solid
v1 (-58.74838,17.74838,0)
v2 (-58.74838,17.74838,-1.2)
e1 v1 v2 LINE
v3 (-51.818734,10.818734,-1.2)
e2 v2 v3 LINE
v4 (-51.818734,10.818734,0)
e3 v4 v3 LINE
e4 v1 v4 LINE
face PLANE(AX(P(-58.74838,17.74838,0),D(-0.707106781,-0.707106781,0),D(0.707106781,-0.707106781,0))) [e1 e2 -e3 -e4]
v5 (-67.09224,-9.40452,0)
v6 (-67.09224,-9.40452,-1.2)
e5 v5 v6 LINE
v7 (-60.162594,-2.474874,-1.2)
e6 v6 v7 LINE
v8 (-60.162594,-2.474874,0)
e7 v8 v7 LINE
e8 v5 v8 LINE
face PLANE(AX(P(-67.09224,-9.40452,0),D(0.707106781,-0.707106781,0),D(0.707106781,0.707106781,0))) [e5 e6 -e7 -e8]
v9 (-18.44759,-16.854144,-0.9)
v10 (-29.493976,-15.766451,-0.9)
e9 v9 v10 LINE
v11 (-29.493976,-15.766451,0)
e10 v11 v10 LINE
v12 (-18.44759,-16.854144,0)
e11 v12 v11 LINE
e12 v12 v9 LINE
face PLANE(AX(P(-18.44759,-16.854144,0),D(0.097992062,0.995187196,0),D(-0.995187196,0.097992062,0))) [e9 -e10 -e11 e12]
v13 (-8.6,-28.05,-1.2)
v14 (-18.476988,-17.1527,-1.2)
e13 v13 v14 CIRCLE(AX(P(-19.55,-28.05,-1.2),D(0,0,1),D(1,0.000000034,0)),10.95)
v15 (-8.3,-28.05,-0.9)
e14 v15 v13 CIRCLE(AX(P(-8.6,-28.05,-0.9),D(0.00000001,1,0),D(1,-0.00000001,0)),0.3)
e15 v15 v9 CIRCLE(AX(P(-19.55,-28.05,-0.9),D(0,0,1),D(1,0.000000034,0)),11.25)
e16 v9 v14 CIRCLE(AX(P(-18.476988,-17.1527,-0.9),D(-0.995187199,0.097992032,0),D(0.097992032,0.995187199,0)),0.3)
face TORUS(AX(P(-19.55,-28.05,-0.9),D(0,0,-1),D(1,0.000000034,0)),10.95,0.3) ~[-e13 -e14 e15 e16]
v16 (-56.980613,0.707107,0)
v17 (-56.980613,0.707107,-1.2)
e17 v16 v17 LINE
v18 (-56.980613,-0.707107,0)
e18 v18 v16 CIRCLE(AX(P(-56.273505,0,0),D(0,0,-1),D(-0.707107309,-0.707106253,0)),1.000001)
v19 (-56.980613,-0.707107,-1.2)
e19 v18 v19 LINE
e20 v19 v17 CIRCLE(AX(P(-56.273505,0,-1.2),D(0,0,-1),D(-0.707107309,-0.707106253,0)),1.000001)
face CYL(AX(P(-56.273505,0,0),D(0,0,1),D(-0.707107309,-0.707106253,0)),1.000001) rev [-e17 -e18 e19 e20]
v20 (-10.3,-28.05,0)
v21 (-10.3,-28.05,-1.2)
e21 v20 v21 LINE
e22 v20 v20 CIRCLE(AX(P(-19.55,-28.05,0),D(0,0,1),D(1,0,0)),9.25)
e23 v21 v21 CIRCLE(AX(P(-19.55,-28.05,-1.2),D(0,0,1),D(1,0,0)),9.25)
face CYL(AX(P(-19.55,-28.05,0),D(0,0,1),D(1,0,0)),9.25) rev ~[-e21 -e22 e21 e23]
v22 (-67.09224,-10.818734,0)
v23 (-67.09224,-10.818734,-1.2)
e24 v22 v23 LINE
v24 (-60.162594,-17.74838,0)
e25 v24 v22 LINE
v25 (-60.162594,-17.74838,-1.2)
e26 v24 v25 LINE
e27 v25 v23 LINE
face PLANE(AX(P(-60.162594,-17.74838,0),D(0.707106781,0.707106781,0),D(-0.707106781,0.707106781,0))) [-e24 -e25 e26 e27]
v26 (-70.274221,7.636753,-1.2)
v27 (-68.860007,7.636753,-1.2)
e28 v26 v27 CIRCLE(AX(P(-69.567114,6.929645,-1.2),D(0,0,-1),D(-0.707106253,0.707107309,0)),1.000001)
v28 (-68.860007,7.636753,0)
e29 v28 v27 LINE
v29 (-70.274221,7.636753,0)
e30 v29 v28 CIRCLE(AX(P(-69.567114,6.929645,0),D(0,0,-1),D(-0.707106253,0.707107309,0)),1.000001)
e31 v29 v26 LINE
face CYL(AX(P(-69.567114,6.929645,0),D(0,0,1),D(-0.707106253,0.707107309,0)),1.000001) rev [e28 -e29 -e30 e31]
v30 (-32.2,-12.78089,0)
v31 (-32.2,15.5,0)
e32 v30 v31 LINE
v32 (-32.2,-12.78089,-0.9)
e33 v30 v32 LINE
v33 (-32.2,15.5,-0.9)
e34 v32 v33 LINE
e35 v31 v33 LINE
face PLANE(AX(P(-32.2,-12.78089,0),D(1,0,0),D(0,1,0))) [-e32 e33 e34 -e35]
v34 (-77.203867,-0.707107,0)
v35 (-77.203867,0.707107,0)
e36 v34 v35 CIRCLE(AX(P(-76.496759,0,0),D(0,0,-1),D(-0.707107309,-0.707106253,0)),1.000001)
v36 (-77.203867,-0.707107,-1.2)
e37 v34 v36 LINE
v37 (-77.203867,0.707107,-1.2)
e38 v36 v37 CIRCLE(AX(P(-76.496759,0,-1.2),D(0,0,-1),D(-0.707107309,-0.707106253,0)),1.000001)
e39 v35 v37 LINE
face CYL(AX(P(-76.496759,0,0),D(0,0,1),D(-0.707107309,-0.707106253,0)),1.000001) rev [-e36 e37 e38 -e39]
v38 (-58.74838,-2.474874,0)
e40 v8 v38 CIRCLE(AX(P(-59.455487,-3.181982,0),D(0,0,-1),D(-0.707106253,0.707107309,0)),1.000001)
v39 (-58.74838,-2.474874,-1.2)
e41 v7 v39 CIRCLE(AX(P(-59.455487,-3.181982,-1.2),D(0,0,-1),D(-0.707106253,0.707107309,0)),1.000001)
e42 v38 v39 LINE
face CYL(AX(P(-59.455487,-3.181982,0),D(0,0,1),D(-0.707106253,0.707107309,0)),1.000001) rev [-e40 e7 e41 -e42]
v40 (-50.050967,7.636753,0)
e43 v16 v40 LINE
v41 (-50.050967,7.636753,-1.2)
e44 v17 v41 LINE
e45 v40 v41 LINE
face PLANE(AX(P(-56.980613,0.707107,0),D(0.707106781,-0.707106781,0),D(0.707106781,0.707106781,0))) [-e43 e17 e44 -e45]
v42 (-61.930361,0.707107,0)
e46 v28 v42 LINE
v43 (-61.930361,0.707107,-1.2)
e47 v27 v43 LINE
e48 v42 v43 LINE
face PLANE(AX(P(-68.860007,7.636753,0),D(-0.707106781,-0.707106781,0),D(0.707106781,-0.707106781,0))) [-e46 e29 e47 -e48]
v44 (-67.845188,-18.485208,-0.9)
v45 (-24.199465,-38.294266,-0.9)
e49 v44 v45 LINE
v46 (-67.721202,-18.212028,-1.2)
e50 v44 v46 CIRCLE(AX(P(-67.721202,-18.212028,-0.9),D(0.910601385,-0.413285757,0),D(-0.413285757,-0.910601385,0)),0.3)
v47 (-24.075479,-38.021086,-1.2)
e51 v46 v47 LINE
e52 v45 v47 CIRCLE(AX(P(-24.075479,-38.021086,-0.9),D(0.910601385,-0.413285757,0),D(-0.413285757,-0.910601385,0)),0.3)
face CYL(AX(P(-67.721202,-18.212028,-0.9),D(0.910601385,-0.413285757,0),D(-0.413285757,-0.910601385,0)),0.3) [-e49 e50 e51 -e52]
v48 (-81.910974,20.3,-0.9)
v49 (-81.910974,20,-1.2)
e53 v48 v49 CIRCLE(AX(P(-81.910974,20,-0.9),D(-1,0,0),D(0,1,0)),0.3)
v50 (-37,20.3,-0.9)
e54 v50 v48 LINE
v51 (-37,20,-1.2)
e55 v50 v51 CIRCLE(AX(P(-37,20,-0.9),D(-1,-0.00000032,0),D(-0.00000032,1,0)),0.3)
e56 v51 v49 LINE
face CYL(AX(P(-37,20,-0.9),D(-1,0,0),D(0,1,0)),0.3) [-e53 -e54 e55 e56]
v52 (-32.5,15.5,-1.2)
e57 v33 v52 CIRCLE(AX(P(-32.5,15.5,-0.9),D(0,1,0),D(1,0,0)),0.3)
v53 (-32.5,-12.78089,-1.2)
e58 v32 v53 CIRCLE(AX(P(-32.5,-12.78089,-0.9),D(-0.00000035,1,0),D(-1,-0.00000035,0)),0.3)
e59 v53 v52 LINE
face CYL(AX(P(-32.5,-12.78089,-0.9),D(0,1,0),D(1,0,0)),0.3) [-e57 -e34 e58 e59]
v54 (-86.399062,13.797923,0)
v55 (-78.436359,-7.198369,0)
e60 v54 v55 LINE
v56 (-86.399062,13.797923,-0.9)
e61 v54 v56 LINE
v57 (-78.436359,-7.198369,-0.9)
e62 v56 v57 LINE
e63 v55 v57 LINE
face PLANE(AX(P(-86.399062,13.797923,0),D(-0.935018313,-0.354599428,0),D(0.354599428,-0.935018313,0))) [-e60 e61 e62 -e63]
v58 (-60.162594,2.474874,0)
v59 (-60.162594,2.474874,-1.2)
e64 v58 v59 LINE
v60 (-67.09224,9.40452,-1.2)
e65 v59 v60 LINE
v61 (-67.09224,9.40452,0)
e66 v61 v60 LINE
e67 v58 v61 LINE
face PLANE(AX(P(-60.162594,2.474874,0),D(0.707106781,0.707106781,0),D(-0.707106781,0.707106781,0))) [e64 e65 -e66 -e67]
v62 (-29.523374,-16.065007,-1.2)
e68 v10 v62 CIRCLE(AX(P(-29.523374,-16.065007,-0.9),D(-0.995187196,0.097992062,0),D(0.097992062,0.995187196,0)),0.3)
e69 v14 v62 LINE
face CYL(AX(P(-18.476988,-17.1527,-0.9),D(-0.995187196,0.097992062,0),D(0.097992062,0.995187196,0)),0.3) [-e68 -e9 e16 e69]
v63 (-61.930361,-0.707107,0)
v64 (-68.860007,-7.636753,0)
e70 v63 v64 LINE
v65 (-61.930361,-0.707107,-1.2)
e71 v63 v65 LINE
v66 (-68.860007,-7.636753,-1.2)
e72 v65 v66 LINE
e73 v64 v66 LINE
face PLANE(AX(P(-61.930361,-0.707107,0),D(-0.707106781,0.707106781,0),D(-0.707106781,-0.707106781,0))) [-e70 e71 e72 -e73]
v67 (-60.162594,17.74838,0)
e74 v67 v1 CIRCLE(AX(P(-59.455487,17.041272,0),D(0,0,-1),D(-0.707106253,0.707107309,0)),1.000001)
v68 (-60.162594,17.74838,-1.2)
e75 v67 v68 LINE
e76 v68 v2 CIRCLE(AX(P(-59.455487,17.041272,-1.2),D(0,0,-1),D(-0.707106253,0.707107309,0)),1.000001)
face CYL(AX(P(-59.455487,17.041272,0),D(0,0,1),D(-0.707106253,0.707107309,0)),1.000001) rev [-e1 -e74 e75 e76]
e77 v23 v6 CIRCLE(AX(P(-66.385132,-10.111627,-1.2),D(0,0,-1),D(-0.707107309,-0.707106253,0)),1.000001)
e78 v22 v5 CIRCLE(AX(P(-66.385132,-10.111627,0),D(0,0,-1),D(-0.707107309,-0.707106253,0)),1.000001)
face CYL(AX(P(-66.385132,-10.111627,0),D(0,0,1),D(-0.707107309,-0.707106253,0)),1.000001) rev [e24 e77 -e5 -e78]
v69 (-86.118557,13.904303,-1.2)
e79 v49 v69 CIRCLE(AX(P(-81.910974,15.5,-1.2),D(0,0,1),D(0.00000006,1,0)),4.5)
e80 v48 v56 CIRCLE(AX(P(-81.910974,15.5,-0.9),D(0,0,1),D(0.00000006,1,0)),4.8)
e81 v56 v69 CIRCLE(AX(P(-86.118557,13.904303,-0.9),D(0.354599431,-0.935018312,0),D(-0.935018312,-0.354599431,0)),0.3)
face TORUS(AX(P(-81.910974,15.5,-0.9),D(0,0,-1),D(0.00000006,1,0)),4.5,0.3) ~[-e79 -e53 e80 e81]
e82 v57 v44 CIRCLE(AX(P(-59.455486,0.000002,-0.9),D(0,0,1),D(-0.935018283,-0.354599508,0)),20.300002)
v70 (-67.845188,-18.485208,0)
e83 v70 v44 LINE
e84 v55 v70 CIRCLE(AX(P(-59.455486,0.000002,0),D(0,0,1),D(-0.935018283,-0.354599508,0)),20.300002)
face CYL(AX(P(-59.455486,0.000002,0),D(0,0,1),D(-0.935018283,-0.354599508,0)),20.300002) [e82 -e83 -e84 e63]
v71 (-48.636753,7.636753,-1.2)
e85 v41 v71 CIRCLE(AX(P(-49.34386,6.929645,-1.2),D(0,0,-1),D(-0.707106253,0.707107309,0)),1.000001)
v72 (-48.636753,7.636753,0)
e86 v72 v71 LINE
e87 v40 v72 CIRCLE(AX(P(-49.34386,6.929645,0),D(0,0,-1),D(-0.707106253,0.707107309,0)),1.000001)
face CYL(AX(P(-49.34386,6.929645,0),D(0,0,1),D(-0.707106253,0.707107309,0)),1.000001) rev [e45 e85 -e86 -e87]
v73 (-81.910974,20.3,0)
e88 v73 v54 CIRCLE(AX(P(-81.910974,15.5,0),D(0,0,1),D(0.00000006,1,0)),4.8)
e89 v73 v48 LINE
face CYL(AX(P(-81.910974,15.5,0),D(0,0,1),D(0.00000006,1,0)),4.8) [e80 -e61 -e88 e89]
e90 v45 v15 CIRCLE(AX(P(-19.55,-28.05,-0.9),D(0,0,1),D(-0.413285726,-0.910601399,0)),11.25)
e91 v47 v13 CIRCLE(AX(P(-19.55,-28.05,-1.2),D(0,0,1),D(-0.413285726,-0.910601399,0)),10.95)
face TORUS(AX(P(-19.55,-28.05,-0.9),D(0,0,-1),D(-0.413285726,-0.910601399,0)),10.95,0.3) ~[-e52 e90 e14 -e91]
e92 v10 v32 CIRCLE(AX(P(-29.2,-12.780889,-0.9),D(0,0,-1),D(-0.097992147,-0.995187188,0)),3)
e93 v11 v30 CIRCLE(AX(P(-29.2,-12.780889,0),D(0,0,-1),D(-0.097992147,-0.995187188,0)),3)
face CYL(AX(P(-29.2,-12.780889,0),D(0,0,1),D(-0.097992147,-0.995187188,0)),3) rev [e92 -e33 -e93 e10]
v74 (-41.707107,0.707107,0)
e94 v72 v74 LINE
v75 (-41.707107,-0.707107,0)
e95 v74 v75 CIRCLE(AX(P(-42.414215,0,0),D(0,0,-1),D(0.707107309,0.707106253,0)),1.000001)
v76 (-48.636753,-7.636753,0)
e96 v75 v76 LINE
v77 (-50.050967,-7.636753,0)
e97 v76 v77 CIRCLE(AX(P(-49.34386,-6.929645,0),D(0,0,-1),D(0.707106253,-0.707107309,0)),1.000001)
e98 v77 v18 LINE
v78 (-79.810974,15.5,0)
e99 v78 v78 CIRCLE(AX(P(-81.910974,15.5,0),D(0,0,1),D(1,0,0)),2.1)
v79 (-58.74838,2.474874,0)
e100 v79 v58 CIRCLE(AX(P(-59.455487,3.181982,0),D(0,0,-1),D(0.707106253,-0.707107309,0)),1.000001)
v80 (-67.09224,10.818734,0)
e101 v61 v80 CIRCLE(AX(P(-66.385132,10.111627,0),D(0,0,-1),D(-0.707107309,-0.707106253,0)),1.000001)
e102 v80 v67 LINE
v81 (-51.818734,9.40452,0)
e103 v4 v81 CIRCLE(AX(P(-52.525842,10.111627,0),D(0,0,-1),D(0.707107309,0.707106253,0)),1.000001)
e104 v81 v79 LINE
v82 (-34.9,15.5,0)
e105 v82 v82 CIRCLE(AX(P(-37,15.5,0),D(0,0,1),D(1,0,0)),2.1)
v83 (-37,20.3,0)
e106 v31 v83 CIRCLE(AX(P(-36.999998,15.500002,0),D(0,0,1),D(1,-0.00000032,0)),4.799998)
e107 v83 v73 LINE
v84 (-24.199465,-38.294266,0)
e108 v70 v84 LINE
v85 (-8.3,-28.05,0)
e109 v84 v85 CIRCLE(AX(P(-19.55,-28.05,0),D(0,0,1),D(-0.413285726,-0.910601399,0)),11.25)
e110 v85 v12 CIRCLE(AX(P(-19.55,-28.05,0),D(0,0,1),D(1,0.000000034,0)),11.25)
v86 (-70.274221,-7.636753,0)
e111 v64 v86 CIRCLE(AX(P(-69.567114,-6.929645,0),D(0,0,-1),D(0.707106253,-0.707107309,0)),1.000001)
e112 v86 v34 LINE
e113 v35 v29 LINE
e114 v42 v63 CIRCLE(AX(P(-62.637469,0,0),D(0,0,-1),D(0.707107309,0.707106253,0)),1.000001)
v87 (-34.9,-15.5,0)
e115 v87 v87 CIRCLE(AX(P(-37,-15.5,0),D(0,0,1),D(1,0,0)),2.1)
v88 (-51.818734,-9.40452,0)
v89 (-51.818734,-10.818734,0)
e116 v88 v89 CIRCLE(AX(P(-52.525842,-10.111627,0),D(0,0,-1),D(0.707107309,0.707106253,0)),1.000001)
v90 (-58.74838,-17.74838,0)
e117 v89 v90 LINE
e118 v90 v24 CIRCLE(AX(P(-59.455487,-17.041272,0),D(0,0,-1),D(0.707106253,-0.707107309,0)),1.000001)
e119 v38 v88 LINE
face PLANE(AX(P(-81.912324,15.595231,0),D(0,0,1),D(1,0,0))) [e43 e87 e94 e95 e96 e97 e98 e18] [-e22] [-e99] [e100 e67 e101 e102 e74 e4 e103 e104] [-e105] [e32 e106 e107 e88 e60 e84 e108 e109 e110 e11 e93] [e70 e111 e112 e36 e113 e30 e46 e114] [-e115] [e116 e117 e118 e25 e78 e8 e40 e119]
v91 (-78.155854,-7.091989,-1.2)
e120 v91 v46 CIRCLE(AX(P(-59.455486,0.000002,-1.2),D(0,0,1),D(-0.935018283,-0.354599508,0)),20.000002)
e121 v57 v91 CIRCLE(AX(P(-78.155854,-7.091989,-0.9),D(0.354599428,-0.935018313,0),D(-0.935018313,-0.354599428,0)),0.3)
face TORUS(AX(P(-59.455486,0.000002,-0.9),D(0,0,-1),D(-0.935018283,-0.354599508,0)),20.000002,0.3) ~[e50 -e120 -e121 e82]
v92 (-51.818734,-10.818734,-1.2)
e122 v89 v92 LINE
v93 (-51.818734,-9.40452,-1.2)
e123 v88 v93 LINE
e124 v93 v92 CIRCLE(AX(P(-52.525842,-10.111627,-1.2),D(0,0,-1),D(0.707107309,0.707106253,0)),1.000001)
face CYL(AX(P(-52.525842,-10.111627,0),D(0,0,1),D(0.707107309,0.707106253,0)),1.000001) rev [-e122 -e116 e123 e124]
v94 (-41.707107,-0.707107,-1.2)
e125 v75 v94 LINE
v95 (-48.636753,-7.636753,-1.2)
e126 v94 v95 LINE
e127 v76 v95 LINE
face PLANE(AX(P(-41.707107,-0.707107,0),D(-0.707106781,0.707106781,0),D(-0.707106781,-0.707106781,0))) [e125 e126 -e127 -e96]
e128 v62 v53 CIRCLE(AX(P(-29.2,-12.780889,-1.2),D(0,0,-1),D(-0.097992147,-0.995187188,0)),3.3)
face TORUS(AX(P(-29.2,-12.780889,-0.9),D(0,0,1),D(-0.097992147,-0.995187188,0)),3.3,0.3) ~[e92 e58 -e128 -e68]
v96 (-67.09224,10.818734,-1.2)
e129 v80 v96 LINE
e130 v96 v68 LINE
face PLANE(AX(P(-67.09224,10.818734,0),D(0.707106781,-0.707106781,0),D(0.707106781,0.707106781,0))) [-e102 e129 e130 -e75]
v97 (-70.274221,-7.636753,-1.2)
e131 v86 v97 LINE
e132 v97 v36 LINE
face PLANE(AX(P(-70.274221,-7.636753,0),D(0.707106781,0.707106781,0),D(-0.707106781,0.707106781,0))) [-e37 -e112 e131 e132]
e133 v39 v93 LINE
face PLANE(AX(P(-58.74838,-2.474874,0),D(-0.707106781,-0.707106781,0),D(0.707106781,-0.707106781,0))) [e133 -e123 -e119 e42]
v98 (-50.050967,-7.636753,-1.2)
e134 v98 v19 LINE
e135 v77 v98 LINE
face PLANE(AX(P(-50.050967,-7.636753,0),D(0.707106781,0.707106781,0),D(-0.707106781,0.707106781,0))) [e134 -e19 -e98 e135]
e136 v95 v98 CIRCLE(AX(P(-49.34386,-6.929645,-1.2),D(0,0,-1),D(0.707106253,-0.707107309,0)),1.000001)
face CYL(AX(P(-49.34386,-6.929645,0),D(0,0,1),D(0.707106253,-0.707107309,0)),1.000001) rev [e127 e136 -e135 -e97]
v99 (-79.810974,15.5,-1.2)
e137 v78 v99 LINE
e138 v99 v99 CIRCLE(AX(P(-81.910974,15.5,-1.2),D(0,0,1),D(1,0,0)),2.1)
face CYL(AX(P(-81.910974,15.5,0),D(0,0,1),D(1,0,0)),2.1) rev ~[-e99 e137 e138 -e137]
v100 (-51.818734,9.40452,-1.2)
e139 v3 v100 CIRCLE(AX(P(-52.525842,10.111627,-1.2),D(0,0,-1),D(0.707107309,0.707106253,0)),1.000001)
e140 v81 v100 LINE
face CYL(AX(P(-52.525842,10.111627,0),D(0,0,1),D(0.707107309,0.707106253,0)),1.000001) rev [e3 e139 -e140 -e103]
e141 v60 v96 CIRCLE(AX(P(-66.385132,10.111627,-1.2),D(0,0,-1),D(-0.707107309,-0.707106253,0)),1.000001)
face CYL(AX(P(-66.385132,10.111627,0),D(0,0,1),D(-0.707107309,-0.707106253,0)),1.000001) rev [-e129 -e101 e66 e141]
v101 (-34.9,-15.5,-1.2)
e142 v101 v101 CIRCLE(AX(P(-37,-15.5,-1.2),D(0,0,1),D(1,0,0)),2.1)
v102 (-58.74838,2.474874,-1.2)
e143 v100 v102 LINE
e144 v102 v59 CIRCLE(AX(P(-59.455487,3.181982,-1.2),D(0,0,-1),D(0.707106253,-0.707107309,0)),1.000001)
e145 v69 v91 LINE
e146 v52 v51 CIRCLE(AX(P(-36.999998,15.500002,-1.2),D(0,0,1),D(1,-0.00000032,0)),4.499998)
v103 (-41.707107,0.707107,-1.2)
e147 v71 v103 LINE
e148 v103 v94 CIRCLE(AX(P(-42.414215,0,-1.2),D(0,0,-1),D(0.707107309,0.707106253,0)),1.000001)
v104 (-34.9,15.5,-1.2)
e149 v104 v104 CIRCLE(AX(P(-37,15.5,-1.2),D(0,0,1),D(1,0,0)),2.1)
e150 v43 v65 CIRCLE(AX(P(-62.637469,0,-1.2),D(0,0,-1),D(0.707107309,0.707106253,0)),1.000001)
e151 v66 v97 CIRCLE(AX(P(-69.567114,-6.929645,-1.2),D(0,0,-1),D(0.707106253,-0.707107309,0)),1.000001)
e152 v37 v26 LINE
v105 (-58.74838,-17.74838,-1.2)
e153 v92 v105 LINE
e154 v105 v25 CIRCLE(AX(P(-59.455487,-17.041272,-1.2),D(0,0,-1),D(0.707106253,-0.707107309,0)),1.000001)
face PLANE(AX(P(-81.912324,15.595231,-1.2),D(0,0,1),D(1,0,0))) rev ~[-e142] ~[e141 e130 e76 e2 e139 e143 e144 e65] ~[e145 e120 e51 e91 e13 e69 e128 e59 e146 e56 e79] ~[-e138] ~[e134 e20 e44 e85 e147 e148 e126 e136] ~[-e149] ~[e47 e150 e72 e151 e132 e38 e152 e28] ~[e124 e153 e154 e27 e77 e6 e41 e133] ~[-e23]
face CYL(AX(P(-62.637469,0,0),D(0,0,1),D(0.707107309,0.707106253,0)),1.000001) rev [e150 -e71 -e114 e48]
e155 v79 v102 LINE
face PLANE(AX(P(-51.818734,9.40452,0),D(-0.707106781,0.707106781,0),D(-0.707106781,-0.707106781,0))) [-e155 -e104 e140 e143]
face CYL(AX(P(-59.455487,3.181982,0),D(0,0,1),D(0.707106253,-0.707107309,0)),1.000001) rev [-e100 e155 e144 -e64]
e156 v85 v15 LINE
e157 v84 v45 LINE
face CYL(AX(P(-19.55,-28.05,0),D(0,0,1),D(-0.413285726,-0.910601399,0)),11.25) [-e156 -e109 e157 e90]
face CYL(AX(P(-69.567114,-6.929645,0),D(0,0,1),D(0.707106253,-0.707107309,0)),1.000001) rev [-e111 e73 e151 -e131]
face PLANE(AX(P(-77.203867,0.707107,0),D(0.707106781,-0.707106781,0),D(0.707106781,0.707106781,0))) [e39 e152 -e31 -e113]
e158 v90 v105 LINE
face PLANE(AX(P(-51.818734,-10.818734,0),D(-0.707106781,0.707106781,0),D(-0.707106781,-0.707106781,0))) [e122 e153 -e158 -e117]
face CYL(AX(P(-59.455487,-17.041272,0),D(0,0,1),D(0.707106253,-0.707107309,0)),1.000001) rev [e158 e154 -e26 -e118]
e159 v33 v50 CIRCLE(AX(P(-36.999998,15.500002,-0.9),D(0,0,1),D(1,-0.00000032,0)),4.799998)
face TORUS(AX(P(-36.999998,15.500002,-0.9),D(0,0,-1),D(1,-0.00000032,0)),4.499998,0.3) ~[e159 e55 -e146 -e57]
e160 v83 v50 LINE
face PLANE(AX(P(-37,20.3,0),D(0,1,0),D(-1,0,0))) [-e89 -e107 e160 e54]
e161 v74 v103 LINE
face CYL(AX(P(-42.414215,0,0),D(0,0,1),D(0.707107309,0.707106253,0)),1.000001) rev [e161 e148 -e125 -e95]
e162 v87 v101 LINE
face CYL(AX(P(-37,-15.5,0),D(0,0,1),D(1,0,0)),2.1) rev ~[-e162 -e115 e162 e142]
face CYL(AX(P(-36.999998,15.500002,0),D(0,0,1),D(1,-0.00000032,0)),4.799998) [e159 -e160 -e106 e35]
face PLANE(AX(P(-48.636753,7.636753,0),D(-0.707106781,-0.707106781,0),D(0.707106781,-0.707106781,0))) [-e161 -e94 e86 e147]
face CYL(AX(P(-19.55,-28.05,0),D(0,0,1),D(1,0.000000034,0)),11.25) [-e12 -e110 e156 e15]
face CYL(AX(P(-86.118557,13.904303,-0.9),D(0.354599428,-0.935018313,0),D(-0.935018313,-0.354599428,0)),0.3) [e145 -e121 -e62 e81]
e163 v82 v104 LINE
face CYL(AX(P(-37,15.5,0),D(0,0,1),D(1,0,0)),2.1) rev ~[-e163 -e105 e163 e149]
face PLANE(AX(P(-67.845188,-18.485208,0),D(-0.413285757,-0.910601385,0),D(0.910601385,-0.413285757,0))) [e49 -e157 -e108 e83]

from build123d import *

# Parameters (mm, degrees)
F0_R     = 2.1
F0_R_2   = 9.25
F1_DEPTH = 1.2
F2_R     = 0.3


with BuildPart() as f1:
    # F0 (on Top) → F1 (new body)
    with BuildSketch(Plane.XY):
        with BuildLine():
            ThreePointArc((-77.110974, 15.5), (-78.516861, 18.894113), (-81.910974, 20.3))
            ThreePointArc((-81.910974, 20.3), (-85.861289, 18.226722), (-86.399062, 13.797923))
            ThreePointArc((-86.399062, 13.797923), (-81.045764, 10.778622), (-77.110974, 15.5))
        make_face()
        with Locations((-81.910974, 15.5)):
            Circle(F0_R, mode=Mode.SUBTRACT)
        with BuildLine():
            ThreePointArc((-78.436359, -7.198369), (-76.162026, 11.531763), (-59.455487, 20.3))
            Line((-59.455487, 20.3), (-81.910974, 20.3))
            ThreePointArc((-81.910974, 20.3), (-78.516861, 18.894113), (-77.110974, 15.5))
            ThreePointArc((-77.110974, 15.5), (-81.045764, 10.778622), (-86.399062, 13.797923))
            Line((-86.399062, 13.797923), (-78.436359, -7.198369))
        make_face()
        with BuildLine():
            ThreePointArc((-59.455487, -19), (-46.020458, -13.435029), (-40.455487, 0))
            ThreePointArc((-40.455487, 0), (-46.020458, 13.435029), (-59.455487, 19))
            ThreePointArc((-59.455487, 19), (-78.455487, 0), (-59.455487, -19))
        make_face()
        with BuildLine():
            ThreePointArc((-58.74838, -17.74838), (-59.455487, -18.041273), (-60.162594, -17.74838))
            Line((-60.162594, -17.74838), (-67.09224, -10.818734))
            ThreePointArc((-67.09224, -10.818734), (-67.385133, -10.111627), (-67.09224, -9.40452))
            Line((-67.09224, -9.40452), (-60.162594, -2.474874))
            ThreePointArc((-60.162594, -2.474874), (-59.455487, -2.181981), (-58.74838, -2.474874))
            Line((-58.74838, -2.474874), (-51.818734, -9.40452))
            ThreePointArc((-51.818734, -9.40452), (-51.525841, -10.111627), (-51.818734, -10.818734))
            Line((-51.818734, -10.818734), (-58.74838, -17.74838))
        make_face(mode=Mode.SUBTRACT)
        with BuildLine():
            ThreePointArc((-70.274221, 7.636753), (-69.567114, 7.929646), (-68.860007, 7.636753))
            Line((-68.860007, 7.636753), (-61.930361, 0.707107))
            ThreePointArc((-61.930361, 0.707107), (-61.637468, 0), (-61.930361, -0.707107))
            Line((-61.930361, -0.707107), (-68.860007, -7.636753))
            ThreePointArc((-68.860007, -7.636753), (-69.567114, -7.929646), (-70.274221, -7.636753))
            Line((-70.274221, -7.636753), (-77.203867, -0.707107))
            ThreePointArc((-77.203867, -0.707107), (-77.49676, 0), (-77.203867, 0.707107))
            Line((-77.203867, 0.707107), (-70.274221, 7.636753))
        make_face(mode=Mode.SUBTRACT)
        with BuildLine():
            Line((-48.636753, 7.636753), (-41.707107, 0.707107))
            ThreePointArc((-41.707107, 0.707107), (-41.414214, 0), (-41.707107, -0.707107))
            Line((-41.707107, -0.707107), (-48.636753, -7.636753))
            ThreePointArc((-48.636753, -7.636753), (-49.34386, -7.929646), (-50.050967, -7.636753))
            Line((-50.050967, -7.636753), (-56.980613, -0.707107))
            ThreePointArc((-56.980613, -0.707107), (-57.273506, 0), (-56.980613, 0.707107))
            Line((-56.980613, 0.707107), (-50.050967, 7.636753))
            ThreePointArc((-50.050967, 7.636753), (-49.34386, 7.929646), (-48.636753, 7.636753))
        make_face(mode=Mode.SUBTRACT)
        with BuildLine():
            ThreePointArc((-51.818734, 10.818734), (-51.525841, 10.111627), (-51.818734, 9.40452))
            Line((-51.818734, 9.40452), (-58.74838, 2.474874))
            ThreePointArc((-58.74838, 2.474874), (-59.455487, 2.181981), (-60.162594, 2.474874))
            Line((-60.162594, 2.474874), (-67.09224, 9.40452))
            ThreePointArc((-67.09224, 9.40452), (-67.385133, 10.111627), (-67.09224, 10.818734))
            Line((-67.09224, 10.818734), (-60.162594, 17.74838))
            ThreePointArc((-60.162594, 17.74838), (-59.455487, 18.041273), (-58.74838, 17.74838))
            Line((-58.74838, 17.74838), (-51.818734, 10.818734))
        make_face(mode=Mode.SUBTRACT)
        with BuildLine():
            Line((-40.284814, 19), (-52.30776, 19))
            ThreePointArc((-52.30776, 19), (-42.764339, 11.554028), (-39.155487, 0))
            ThreePointArc((-39.155487, 0), (-42.764339, -11.554028), (-52.30776, -19))
            Line((-52.30776, -19), (-40.284814, -19))
            ThreePointArc((-40.284814, -19), (-40.394113, -12.105887), (-33.5, -12.215186))
            Line((-33.5, -12.215186), (-33.5, 0))
            Line((-33.5, 0), (-33.5, 12.215186))
            ThreePointArc((-33.5, 12.215186), (-40.394113, 12.105887), (-40.284814, 19))
        make_face()
        with BuildLine():
            ThreePointArc((-59.455487, 19), (-46.020458, 13.435029), (-40.455487, 0))
            ThreePointArc((-40.455487, 0), (-46.020458, -13.435029), (-59.455487, -19))
            Line((-59.455487, -19), (-52.30776, -19))
            ThreePointArc((-52.30776, -19), (-42.764339, -11.554028), (-39.155487, 0))
            ThreePointArc((-39.155487, 0), (-42.764339, 11.554028), (-52.30776, 19))
            Line((-52.30776, 19), (-59.455487, 19))
        make_face()
        with BuildLine():
            ThreePointArc((-59.455487, -19), (-78.455487, 0), (-59.455487, 19))
            Line((-59.455487, 19), (-52.30776, 19))
            ThreePointArc((-52.30776, 19), (-55.822995, 19.972356), (-59.455487, 20.3))
            ThreePointArc((-59.455487, 20.3), (-76.162026, 11.531763), (-78.436359, -7.198369))
            ThreePointArc((-78.436359, -7.198369), (-74.258704, -13.890816), (-67.845188, -18.485208))
            ThreePointArc((-67.845188, -18.485208), (-63.747356, -19.841115), (-59.455487, -20.3))
            ThreePointArc((-59.455487, -20.3), (-55.822995, -19.972356), (-52.30776, -19))
            Line((-52.30776, -19), (-59.455487, -19))
        make_face()
        with BuildLine():
            ThreePointArc((-59.455487, 20.3), (-55.822995, 19.972356), (-52.30776, 19))
            Line((-52.30776, 19), (-40.284814, 19))
            ThreePointArc((-40.284814, 19), (-38.766352, 19.963183), (-37, 20.3))
            Line((-37, 20.3), (-59.455487, 20.3))
        make_face()
        with BuildLine():
            ThreePointArc((-37, 20.3), (-38.766352, 19.963183), (-40.284814, 19))
            ThreePointArc((-40.284814, 19), (-40.394113, 12.105887), (-33.5, 12.215186))
            ThreePointArc((-33.5, 12.215186), (-32.536817, 13.733648), (-32.2, 15.5))
            ThreePointArc((-32.2, 15.5), (-33.605887, 18.894113), (-37, 20.3))
        make_face()
        with Locations((-37, 15.5)):
            Circle(F0_R, mode=Mode.SUBTRACT)
        with BuildLine():
            ThreePointArc((-32.2, 15.5), (-32.536817, 13.733648), (-33.5, 12.215186))
            Line((-33.5, 12.215186), (-33.5, 0))
            Line((-33.5, 0), (-32.2, 0))
            Line((-32.2, 0), (-32.2, 4.854651))
            Line((-32.2, 4.854651), (-32.2, 15.5))
        make_face()
        with BuildLine():
            ThreePointArc((-33.5, -12.215186), (-40.394113, -12.105887), (-40.284814, -19))
            ThreePointArc((-40.284814, -19), (-38.766352, -19.963183), (-37, -20.3))
            ThreePointArc((-37, -20.3), (-33.605887, -18.894113), (-32.2, -15.5))
            ThreePointArc((-32.2, -15.5), (-32.536817, -13.733648), (-33.5, -12.215186))
        make_face()
        with Locations((-37, -15.5)):
            Circle(F0_R, mode=Mode.SUBTRACT)
        with BuildLine():
            Line((-40.284814, -19), (-52.30776, -19))
            ThreePointArc((-52.30776, -19), (-55.822995, -19.972356), (-59.455487, -20.3))
            Line((-59.455487, -20.3), (-37, -20.3))
            ThreePointArc((-37, -20.3), (-38.766352, -19.963183), (-40.284814, -19))
        make_face()
        with BuildLine():
            Line((-37, -20.3), (-59.455487, -20.3))
            ThreePointArc((-59.455487, -20.3), (-63.747356, -19.841115), (-67.845188, -18.485208))
            Line((-67.845188, -18.485208), (-24.199465, -38.294266))
            ThreePointArc((-24.199465, -38.294266), (-30.415777, -25.13497), (-18.44759, -16.854144))
            Line((-18.44759, -16.854144), (-29.493976, -15.766451))
            ThreePointArc((-29.493976, -15.766451), (-31.422828, -14.795594), (-32.2, -12.78089))
            Line((-32.2, -12.78089), (-32.2, 0))
            Line((-32.2, 0), (-33.5, 0))
            Line((-33.5, 0), (-33.5, -12.215186))
            ThreePointArc((-33.5, -12.215186), (-32.536817, -13.733648), (-32.2, -15.5))
            ThreePointArc((-32.2, -15.5), (-33.605887, -18.894113), (-37, -20.3))
        make_face()
        with BuildLine():
            ThreePointArc((-18.44759, -16.854144), (-30.415777, -25.13497), (-24.199465, -38.294266))
            ThreePointArc((-24.199465, -38.294266), (-13.456724, -37.506981), (-8.3, -28.05))
            ThreePointArc((-8.3, -28.05), (-11.214395, -20.494857), (-18.44759, -16.854144))
        make_face()
        with Locations((-19.55, -28.05)):
            Circle(F0_R_2, mode=Mode.SUBTRACT)
    extrude(amount=-F1_DEPTH)

    # F2
    f2_edges = [f1.edges().sort_by_distance(p)[0] for p in [
        (-46.022326, -28.389737, -1.2),
        (-74.258704, -13.890816, -1.2),
        (-82.41771, 3.299777, -1.2),
        (-85.861289, 18.226722, -1.2),
        (-59.455487, 20.3, -1.2),
        (-33.605887, 18.894113, -1.2),
        (-32.2, 1.359555, -1.2),
        (-31.422828, -14.795594, -1.2),
        (-23.970783, -16.310298, -1.2),
        (-8.684223, -30.96503, -1.2),
    ]]
    fillet(f2_edges, radius=F2_R)


solid = f1.part
